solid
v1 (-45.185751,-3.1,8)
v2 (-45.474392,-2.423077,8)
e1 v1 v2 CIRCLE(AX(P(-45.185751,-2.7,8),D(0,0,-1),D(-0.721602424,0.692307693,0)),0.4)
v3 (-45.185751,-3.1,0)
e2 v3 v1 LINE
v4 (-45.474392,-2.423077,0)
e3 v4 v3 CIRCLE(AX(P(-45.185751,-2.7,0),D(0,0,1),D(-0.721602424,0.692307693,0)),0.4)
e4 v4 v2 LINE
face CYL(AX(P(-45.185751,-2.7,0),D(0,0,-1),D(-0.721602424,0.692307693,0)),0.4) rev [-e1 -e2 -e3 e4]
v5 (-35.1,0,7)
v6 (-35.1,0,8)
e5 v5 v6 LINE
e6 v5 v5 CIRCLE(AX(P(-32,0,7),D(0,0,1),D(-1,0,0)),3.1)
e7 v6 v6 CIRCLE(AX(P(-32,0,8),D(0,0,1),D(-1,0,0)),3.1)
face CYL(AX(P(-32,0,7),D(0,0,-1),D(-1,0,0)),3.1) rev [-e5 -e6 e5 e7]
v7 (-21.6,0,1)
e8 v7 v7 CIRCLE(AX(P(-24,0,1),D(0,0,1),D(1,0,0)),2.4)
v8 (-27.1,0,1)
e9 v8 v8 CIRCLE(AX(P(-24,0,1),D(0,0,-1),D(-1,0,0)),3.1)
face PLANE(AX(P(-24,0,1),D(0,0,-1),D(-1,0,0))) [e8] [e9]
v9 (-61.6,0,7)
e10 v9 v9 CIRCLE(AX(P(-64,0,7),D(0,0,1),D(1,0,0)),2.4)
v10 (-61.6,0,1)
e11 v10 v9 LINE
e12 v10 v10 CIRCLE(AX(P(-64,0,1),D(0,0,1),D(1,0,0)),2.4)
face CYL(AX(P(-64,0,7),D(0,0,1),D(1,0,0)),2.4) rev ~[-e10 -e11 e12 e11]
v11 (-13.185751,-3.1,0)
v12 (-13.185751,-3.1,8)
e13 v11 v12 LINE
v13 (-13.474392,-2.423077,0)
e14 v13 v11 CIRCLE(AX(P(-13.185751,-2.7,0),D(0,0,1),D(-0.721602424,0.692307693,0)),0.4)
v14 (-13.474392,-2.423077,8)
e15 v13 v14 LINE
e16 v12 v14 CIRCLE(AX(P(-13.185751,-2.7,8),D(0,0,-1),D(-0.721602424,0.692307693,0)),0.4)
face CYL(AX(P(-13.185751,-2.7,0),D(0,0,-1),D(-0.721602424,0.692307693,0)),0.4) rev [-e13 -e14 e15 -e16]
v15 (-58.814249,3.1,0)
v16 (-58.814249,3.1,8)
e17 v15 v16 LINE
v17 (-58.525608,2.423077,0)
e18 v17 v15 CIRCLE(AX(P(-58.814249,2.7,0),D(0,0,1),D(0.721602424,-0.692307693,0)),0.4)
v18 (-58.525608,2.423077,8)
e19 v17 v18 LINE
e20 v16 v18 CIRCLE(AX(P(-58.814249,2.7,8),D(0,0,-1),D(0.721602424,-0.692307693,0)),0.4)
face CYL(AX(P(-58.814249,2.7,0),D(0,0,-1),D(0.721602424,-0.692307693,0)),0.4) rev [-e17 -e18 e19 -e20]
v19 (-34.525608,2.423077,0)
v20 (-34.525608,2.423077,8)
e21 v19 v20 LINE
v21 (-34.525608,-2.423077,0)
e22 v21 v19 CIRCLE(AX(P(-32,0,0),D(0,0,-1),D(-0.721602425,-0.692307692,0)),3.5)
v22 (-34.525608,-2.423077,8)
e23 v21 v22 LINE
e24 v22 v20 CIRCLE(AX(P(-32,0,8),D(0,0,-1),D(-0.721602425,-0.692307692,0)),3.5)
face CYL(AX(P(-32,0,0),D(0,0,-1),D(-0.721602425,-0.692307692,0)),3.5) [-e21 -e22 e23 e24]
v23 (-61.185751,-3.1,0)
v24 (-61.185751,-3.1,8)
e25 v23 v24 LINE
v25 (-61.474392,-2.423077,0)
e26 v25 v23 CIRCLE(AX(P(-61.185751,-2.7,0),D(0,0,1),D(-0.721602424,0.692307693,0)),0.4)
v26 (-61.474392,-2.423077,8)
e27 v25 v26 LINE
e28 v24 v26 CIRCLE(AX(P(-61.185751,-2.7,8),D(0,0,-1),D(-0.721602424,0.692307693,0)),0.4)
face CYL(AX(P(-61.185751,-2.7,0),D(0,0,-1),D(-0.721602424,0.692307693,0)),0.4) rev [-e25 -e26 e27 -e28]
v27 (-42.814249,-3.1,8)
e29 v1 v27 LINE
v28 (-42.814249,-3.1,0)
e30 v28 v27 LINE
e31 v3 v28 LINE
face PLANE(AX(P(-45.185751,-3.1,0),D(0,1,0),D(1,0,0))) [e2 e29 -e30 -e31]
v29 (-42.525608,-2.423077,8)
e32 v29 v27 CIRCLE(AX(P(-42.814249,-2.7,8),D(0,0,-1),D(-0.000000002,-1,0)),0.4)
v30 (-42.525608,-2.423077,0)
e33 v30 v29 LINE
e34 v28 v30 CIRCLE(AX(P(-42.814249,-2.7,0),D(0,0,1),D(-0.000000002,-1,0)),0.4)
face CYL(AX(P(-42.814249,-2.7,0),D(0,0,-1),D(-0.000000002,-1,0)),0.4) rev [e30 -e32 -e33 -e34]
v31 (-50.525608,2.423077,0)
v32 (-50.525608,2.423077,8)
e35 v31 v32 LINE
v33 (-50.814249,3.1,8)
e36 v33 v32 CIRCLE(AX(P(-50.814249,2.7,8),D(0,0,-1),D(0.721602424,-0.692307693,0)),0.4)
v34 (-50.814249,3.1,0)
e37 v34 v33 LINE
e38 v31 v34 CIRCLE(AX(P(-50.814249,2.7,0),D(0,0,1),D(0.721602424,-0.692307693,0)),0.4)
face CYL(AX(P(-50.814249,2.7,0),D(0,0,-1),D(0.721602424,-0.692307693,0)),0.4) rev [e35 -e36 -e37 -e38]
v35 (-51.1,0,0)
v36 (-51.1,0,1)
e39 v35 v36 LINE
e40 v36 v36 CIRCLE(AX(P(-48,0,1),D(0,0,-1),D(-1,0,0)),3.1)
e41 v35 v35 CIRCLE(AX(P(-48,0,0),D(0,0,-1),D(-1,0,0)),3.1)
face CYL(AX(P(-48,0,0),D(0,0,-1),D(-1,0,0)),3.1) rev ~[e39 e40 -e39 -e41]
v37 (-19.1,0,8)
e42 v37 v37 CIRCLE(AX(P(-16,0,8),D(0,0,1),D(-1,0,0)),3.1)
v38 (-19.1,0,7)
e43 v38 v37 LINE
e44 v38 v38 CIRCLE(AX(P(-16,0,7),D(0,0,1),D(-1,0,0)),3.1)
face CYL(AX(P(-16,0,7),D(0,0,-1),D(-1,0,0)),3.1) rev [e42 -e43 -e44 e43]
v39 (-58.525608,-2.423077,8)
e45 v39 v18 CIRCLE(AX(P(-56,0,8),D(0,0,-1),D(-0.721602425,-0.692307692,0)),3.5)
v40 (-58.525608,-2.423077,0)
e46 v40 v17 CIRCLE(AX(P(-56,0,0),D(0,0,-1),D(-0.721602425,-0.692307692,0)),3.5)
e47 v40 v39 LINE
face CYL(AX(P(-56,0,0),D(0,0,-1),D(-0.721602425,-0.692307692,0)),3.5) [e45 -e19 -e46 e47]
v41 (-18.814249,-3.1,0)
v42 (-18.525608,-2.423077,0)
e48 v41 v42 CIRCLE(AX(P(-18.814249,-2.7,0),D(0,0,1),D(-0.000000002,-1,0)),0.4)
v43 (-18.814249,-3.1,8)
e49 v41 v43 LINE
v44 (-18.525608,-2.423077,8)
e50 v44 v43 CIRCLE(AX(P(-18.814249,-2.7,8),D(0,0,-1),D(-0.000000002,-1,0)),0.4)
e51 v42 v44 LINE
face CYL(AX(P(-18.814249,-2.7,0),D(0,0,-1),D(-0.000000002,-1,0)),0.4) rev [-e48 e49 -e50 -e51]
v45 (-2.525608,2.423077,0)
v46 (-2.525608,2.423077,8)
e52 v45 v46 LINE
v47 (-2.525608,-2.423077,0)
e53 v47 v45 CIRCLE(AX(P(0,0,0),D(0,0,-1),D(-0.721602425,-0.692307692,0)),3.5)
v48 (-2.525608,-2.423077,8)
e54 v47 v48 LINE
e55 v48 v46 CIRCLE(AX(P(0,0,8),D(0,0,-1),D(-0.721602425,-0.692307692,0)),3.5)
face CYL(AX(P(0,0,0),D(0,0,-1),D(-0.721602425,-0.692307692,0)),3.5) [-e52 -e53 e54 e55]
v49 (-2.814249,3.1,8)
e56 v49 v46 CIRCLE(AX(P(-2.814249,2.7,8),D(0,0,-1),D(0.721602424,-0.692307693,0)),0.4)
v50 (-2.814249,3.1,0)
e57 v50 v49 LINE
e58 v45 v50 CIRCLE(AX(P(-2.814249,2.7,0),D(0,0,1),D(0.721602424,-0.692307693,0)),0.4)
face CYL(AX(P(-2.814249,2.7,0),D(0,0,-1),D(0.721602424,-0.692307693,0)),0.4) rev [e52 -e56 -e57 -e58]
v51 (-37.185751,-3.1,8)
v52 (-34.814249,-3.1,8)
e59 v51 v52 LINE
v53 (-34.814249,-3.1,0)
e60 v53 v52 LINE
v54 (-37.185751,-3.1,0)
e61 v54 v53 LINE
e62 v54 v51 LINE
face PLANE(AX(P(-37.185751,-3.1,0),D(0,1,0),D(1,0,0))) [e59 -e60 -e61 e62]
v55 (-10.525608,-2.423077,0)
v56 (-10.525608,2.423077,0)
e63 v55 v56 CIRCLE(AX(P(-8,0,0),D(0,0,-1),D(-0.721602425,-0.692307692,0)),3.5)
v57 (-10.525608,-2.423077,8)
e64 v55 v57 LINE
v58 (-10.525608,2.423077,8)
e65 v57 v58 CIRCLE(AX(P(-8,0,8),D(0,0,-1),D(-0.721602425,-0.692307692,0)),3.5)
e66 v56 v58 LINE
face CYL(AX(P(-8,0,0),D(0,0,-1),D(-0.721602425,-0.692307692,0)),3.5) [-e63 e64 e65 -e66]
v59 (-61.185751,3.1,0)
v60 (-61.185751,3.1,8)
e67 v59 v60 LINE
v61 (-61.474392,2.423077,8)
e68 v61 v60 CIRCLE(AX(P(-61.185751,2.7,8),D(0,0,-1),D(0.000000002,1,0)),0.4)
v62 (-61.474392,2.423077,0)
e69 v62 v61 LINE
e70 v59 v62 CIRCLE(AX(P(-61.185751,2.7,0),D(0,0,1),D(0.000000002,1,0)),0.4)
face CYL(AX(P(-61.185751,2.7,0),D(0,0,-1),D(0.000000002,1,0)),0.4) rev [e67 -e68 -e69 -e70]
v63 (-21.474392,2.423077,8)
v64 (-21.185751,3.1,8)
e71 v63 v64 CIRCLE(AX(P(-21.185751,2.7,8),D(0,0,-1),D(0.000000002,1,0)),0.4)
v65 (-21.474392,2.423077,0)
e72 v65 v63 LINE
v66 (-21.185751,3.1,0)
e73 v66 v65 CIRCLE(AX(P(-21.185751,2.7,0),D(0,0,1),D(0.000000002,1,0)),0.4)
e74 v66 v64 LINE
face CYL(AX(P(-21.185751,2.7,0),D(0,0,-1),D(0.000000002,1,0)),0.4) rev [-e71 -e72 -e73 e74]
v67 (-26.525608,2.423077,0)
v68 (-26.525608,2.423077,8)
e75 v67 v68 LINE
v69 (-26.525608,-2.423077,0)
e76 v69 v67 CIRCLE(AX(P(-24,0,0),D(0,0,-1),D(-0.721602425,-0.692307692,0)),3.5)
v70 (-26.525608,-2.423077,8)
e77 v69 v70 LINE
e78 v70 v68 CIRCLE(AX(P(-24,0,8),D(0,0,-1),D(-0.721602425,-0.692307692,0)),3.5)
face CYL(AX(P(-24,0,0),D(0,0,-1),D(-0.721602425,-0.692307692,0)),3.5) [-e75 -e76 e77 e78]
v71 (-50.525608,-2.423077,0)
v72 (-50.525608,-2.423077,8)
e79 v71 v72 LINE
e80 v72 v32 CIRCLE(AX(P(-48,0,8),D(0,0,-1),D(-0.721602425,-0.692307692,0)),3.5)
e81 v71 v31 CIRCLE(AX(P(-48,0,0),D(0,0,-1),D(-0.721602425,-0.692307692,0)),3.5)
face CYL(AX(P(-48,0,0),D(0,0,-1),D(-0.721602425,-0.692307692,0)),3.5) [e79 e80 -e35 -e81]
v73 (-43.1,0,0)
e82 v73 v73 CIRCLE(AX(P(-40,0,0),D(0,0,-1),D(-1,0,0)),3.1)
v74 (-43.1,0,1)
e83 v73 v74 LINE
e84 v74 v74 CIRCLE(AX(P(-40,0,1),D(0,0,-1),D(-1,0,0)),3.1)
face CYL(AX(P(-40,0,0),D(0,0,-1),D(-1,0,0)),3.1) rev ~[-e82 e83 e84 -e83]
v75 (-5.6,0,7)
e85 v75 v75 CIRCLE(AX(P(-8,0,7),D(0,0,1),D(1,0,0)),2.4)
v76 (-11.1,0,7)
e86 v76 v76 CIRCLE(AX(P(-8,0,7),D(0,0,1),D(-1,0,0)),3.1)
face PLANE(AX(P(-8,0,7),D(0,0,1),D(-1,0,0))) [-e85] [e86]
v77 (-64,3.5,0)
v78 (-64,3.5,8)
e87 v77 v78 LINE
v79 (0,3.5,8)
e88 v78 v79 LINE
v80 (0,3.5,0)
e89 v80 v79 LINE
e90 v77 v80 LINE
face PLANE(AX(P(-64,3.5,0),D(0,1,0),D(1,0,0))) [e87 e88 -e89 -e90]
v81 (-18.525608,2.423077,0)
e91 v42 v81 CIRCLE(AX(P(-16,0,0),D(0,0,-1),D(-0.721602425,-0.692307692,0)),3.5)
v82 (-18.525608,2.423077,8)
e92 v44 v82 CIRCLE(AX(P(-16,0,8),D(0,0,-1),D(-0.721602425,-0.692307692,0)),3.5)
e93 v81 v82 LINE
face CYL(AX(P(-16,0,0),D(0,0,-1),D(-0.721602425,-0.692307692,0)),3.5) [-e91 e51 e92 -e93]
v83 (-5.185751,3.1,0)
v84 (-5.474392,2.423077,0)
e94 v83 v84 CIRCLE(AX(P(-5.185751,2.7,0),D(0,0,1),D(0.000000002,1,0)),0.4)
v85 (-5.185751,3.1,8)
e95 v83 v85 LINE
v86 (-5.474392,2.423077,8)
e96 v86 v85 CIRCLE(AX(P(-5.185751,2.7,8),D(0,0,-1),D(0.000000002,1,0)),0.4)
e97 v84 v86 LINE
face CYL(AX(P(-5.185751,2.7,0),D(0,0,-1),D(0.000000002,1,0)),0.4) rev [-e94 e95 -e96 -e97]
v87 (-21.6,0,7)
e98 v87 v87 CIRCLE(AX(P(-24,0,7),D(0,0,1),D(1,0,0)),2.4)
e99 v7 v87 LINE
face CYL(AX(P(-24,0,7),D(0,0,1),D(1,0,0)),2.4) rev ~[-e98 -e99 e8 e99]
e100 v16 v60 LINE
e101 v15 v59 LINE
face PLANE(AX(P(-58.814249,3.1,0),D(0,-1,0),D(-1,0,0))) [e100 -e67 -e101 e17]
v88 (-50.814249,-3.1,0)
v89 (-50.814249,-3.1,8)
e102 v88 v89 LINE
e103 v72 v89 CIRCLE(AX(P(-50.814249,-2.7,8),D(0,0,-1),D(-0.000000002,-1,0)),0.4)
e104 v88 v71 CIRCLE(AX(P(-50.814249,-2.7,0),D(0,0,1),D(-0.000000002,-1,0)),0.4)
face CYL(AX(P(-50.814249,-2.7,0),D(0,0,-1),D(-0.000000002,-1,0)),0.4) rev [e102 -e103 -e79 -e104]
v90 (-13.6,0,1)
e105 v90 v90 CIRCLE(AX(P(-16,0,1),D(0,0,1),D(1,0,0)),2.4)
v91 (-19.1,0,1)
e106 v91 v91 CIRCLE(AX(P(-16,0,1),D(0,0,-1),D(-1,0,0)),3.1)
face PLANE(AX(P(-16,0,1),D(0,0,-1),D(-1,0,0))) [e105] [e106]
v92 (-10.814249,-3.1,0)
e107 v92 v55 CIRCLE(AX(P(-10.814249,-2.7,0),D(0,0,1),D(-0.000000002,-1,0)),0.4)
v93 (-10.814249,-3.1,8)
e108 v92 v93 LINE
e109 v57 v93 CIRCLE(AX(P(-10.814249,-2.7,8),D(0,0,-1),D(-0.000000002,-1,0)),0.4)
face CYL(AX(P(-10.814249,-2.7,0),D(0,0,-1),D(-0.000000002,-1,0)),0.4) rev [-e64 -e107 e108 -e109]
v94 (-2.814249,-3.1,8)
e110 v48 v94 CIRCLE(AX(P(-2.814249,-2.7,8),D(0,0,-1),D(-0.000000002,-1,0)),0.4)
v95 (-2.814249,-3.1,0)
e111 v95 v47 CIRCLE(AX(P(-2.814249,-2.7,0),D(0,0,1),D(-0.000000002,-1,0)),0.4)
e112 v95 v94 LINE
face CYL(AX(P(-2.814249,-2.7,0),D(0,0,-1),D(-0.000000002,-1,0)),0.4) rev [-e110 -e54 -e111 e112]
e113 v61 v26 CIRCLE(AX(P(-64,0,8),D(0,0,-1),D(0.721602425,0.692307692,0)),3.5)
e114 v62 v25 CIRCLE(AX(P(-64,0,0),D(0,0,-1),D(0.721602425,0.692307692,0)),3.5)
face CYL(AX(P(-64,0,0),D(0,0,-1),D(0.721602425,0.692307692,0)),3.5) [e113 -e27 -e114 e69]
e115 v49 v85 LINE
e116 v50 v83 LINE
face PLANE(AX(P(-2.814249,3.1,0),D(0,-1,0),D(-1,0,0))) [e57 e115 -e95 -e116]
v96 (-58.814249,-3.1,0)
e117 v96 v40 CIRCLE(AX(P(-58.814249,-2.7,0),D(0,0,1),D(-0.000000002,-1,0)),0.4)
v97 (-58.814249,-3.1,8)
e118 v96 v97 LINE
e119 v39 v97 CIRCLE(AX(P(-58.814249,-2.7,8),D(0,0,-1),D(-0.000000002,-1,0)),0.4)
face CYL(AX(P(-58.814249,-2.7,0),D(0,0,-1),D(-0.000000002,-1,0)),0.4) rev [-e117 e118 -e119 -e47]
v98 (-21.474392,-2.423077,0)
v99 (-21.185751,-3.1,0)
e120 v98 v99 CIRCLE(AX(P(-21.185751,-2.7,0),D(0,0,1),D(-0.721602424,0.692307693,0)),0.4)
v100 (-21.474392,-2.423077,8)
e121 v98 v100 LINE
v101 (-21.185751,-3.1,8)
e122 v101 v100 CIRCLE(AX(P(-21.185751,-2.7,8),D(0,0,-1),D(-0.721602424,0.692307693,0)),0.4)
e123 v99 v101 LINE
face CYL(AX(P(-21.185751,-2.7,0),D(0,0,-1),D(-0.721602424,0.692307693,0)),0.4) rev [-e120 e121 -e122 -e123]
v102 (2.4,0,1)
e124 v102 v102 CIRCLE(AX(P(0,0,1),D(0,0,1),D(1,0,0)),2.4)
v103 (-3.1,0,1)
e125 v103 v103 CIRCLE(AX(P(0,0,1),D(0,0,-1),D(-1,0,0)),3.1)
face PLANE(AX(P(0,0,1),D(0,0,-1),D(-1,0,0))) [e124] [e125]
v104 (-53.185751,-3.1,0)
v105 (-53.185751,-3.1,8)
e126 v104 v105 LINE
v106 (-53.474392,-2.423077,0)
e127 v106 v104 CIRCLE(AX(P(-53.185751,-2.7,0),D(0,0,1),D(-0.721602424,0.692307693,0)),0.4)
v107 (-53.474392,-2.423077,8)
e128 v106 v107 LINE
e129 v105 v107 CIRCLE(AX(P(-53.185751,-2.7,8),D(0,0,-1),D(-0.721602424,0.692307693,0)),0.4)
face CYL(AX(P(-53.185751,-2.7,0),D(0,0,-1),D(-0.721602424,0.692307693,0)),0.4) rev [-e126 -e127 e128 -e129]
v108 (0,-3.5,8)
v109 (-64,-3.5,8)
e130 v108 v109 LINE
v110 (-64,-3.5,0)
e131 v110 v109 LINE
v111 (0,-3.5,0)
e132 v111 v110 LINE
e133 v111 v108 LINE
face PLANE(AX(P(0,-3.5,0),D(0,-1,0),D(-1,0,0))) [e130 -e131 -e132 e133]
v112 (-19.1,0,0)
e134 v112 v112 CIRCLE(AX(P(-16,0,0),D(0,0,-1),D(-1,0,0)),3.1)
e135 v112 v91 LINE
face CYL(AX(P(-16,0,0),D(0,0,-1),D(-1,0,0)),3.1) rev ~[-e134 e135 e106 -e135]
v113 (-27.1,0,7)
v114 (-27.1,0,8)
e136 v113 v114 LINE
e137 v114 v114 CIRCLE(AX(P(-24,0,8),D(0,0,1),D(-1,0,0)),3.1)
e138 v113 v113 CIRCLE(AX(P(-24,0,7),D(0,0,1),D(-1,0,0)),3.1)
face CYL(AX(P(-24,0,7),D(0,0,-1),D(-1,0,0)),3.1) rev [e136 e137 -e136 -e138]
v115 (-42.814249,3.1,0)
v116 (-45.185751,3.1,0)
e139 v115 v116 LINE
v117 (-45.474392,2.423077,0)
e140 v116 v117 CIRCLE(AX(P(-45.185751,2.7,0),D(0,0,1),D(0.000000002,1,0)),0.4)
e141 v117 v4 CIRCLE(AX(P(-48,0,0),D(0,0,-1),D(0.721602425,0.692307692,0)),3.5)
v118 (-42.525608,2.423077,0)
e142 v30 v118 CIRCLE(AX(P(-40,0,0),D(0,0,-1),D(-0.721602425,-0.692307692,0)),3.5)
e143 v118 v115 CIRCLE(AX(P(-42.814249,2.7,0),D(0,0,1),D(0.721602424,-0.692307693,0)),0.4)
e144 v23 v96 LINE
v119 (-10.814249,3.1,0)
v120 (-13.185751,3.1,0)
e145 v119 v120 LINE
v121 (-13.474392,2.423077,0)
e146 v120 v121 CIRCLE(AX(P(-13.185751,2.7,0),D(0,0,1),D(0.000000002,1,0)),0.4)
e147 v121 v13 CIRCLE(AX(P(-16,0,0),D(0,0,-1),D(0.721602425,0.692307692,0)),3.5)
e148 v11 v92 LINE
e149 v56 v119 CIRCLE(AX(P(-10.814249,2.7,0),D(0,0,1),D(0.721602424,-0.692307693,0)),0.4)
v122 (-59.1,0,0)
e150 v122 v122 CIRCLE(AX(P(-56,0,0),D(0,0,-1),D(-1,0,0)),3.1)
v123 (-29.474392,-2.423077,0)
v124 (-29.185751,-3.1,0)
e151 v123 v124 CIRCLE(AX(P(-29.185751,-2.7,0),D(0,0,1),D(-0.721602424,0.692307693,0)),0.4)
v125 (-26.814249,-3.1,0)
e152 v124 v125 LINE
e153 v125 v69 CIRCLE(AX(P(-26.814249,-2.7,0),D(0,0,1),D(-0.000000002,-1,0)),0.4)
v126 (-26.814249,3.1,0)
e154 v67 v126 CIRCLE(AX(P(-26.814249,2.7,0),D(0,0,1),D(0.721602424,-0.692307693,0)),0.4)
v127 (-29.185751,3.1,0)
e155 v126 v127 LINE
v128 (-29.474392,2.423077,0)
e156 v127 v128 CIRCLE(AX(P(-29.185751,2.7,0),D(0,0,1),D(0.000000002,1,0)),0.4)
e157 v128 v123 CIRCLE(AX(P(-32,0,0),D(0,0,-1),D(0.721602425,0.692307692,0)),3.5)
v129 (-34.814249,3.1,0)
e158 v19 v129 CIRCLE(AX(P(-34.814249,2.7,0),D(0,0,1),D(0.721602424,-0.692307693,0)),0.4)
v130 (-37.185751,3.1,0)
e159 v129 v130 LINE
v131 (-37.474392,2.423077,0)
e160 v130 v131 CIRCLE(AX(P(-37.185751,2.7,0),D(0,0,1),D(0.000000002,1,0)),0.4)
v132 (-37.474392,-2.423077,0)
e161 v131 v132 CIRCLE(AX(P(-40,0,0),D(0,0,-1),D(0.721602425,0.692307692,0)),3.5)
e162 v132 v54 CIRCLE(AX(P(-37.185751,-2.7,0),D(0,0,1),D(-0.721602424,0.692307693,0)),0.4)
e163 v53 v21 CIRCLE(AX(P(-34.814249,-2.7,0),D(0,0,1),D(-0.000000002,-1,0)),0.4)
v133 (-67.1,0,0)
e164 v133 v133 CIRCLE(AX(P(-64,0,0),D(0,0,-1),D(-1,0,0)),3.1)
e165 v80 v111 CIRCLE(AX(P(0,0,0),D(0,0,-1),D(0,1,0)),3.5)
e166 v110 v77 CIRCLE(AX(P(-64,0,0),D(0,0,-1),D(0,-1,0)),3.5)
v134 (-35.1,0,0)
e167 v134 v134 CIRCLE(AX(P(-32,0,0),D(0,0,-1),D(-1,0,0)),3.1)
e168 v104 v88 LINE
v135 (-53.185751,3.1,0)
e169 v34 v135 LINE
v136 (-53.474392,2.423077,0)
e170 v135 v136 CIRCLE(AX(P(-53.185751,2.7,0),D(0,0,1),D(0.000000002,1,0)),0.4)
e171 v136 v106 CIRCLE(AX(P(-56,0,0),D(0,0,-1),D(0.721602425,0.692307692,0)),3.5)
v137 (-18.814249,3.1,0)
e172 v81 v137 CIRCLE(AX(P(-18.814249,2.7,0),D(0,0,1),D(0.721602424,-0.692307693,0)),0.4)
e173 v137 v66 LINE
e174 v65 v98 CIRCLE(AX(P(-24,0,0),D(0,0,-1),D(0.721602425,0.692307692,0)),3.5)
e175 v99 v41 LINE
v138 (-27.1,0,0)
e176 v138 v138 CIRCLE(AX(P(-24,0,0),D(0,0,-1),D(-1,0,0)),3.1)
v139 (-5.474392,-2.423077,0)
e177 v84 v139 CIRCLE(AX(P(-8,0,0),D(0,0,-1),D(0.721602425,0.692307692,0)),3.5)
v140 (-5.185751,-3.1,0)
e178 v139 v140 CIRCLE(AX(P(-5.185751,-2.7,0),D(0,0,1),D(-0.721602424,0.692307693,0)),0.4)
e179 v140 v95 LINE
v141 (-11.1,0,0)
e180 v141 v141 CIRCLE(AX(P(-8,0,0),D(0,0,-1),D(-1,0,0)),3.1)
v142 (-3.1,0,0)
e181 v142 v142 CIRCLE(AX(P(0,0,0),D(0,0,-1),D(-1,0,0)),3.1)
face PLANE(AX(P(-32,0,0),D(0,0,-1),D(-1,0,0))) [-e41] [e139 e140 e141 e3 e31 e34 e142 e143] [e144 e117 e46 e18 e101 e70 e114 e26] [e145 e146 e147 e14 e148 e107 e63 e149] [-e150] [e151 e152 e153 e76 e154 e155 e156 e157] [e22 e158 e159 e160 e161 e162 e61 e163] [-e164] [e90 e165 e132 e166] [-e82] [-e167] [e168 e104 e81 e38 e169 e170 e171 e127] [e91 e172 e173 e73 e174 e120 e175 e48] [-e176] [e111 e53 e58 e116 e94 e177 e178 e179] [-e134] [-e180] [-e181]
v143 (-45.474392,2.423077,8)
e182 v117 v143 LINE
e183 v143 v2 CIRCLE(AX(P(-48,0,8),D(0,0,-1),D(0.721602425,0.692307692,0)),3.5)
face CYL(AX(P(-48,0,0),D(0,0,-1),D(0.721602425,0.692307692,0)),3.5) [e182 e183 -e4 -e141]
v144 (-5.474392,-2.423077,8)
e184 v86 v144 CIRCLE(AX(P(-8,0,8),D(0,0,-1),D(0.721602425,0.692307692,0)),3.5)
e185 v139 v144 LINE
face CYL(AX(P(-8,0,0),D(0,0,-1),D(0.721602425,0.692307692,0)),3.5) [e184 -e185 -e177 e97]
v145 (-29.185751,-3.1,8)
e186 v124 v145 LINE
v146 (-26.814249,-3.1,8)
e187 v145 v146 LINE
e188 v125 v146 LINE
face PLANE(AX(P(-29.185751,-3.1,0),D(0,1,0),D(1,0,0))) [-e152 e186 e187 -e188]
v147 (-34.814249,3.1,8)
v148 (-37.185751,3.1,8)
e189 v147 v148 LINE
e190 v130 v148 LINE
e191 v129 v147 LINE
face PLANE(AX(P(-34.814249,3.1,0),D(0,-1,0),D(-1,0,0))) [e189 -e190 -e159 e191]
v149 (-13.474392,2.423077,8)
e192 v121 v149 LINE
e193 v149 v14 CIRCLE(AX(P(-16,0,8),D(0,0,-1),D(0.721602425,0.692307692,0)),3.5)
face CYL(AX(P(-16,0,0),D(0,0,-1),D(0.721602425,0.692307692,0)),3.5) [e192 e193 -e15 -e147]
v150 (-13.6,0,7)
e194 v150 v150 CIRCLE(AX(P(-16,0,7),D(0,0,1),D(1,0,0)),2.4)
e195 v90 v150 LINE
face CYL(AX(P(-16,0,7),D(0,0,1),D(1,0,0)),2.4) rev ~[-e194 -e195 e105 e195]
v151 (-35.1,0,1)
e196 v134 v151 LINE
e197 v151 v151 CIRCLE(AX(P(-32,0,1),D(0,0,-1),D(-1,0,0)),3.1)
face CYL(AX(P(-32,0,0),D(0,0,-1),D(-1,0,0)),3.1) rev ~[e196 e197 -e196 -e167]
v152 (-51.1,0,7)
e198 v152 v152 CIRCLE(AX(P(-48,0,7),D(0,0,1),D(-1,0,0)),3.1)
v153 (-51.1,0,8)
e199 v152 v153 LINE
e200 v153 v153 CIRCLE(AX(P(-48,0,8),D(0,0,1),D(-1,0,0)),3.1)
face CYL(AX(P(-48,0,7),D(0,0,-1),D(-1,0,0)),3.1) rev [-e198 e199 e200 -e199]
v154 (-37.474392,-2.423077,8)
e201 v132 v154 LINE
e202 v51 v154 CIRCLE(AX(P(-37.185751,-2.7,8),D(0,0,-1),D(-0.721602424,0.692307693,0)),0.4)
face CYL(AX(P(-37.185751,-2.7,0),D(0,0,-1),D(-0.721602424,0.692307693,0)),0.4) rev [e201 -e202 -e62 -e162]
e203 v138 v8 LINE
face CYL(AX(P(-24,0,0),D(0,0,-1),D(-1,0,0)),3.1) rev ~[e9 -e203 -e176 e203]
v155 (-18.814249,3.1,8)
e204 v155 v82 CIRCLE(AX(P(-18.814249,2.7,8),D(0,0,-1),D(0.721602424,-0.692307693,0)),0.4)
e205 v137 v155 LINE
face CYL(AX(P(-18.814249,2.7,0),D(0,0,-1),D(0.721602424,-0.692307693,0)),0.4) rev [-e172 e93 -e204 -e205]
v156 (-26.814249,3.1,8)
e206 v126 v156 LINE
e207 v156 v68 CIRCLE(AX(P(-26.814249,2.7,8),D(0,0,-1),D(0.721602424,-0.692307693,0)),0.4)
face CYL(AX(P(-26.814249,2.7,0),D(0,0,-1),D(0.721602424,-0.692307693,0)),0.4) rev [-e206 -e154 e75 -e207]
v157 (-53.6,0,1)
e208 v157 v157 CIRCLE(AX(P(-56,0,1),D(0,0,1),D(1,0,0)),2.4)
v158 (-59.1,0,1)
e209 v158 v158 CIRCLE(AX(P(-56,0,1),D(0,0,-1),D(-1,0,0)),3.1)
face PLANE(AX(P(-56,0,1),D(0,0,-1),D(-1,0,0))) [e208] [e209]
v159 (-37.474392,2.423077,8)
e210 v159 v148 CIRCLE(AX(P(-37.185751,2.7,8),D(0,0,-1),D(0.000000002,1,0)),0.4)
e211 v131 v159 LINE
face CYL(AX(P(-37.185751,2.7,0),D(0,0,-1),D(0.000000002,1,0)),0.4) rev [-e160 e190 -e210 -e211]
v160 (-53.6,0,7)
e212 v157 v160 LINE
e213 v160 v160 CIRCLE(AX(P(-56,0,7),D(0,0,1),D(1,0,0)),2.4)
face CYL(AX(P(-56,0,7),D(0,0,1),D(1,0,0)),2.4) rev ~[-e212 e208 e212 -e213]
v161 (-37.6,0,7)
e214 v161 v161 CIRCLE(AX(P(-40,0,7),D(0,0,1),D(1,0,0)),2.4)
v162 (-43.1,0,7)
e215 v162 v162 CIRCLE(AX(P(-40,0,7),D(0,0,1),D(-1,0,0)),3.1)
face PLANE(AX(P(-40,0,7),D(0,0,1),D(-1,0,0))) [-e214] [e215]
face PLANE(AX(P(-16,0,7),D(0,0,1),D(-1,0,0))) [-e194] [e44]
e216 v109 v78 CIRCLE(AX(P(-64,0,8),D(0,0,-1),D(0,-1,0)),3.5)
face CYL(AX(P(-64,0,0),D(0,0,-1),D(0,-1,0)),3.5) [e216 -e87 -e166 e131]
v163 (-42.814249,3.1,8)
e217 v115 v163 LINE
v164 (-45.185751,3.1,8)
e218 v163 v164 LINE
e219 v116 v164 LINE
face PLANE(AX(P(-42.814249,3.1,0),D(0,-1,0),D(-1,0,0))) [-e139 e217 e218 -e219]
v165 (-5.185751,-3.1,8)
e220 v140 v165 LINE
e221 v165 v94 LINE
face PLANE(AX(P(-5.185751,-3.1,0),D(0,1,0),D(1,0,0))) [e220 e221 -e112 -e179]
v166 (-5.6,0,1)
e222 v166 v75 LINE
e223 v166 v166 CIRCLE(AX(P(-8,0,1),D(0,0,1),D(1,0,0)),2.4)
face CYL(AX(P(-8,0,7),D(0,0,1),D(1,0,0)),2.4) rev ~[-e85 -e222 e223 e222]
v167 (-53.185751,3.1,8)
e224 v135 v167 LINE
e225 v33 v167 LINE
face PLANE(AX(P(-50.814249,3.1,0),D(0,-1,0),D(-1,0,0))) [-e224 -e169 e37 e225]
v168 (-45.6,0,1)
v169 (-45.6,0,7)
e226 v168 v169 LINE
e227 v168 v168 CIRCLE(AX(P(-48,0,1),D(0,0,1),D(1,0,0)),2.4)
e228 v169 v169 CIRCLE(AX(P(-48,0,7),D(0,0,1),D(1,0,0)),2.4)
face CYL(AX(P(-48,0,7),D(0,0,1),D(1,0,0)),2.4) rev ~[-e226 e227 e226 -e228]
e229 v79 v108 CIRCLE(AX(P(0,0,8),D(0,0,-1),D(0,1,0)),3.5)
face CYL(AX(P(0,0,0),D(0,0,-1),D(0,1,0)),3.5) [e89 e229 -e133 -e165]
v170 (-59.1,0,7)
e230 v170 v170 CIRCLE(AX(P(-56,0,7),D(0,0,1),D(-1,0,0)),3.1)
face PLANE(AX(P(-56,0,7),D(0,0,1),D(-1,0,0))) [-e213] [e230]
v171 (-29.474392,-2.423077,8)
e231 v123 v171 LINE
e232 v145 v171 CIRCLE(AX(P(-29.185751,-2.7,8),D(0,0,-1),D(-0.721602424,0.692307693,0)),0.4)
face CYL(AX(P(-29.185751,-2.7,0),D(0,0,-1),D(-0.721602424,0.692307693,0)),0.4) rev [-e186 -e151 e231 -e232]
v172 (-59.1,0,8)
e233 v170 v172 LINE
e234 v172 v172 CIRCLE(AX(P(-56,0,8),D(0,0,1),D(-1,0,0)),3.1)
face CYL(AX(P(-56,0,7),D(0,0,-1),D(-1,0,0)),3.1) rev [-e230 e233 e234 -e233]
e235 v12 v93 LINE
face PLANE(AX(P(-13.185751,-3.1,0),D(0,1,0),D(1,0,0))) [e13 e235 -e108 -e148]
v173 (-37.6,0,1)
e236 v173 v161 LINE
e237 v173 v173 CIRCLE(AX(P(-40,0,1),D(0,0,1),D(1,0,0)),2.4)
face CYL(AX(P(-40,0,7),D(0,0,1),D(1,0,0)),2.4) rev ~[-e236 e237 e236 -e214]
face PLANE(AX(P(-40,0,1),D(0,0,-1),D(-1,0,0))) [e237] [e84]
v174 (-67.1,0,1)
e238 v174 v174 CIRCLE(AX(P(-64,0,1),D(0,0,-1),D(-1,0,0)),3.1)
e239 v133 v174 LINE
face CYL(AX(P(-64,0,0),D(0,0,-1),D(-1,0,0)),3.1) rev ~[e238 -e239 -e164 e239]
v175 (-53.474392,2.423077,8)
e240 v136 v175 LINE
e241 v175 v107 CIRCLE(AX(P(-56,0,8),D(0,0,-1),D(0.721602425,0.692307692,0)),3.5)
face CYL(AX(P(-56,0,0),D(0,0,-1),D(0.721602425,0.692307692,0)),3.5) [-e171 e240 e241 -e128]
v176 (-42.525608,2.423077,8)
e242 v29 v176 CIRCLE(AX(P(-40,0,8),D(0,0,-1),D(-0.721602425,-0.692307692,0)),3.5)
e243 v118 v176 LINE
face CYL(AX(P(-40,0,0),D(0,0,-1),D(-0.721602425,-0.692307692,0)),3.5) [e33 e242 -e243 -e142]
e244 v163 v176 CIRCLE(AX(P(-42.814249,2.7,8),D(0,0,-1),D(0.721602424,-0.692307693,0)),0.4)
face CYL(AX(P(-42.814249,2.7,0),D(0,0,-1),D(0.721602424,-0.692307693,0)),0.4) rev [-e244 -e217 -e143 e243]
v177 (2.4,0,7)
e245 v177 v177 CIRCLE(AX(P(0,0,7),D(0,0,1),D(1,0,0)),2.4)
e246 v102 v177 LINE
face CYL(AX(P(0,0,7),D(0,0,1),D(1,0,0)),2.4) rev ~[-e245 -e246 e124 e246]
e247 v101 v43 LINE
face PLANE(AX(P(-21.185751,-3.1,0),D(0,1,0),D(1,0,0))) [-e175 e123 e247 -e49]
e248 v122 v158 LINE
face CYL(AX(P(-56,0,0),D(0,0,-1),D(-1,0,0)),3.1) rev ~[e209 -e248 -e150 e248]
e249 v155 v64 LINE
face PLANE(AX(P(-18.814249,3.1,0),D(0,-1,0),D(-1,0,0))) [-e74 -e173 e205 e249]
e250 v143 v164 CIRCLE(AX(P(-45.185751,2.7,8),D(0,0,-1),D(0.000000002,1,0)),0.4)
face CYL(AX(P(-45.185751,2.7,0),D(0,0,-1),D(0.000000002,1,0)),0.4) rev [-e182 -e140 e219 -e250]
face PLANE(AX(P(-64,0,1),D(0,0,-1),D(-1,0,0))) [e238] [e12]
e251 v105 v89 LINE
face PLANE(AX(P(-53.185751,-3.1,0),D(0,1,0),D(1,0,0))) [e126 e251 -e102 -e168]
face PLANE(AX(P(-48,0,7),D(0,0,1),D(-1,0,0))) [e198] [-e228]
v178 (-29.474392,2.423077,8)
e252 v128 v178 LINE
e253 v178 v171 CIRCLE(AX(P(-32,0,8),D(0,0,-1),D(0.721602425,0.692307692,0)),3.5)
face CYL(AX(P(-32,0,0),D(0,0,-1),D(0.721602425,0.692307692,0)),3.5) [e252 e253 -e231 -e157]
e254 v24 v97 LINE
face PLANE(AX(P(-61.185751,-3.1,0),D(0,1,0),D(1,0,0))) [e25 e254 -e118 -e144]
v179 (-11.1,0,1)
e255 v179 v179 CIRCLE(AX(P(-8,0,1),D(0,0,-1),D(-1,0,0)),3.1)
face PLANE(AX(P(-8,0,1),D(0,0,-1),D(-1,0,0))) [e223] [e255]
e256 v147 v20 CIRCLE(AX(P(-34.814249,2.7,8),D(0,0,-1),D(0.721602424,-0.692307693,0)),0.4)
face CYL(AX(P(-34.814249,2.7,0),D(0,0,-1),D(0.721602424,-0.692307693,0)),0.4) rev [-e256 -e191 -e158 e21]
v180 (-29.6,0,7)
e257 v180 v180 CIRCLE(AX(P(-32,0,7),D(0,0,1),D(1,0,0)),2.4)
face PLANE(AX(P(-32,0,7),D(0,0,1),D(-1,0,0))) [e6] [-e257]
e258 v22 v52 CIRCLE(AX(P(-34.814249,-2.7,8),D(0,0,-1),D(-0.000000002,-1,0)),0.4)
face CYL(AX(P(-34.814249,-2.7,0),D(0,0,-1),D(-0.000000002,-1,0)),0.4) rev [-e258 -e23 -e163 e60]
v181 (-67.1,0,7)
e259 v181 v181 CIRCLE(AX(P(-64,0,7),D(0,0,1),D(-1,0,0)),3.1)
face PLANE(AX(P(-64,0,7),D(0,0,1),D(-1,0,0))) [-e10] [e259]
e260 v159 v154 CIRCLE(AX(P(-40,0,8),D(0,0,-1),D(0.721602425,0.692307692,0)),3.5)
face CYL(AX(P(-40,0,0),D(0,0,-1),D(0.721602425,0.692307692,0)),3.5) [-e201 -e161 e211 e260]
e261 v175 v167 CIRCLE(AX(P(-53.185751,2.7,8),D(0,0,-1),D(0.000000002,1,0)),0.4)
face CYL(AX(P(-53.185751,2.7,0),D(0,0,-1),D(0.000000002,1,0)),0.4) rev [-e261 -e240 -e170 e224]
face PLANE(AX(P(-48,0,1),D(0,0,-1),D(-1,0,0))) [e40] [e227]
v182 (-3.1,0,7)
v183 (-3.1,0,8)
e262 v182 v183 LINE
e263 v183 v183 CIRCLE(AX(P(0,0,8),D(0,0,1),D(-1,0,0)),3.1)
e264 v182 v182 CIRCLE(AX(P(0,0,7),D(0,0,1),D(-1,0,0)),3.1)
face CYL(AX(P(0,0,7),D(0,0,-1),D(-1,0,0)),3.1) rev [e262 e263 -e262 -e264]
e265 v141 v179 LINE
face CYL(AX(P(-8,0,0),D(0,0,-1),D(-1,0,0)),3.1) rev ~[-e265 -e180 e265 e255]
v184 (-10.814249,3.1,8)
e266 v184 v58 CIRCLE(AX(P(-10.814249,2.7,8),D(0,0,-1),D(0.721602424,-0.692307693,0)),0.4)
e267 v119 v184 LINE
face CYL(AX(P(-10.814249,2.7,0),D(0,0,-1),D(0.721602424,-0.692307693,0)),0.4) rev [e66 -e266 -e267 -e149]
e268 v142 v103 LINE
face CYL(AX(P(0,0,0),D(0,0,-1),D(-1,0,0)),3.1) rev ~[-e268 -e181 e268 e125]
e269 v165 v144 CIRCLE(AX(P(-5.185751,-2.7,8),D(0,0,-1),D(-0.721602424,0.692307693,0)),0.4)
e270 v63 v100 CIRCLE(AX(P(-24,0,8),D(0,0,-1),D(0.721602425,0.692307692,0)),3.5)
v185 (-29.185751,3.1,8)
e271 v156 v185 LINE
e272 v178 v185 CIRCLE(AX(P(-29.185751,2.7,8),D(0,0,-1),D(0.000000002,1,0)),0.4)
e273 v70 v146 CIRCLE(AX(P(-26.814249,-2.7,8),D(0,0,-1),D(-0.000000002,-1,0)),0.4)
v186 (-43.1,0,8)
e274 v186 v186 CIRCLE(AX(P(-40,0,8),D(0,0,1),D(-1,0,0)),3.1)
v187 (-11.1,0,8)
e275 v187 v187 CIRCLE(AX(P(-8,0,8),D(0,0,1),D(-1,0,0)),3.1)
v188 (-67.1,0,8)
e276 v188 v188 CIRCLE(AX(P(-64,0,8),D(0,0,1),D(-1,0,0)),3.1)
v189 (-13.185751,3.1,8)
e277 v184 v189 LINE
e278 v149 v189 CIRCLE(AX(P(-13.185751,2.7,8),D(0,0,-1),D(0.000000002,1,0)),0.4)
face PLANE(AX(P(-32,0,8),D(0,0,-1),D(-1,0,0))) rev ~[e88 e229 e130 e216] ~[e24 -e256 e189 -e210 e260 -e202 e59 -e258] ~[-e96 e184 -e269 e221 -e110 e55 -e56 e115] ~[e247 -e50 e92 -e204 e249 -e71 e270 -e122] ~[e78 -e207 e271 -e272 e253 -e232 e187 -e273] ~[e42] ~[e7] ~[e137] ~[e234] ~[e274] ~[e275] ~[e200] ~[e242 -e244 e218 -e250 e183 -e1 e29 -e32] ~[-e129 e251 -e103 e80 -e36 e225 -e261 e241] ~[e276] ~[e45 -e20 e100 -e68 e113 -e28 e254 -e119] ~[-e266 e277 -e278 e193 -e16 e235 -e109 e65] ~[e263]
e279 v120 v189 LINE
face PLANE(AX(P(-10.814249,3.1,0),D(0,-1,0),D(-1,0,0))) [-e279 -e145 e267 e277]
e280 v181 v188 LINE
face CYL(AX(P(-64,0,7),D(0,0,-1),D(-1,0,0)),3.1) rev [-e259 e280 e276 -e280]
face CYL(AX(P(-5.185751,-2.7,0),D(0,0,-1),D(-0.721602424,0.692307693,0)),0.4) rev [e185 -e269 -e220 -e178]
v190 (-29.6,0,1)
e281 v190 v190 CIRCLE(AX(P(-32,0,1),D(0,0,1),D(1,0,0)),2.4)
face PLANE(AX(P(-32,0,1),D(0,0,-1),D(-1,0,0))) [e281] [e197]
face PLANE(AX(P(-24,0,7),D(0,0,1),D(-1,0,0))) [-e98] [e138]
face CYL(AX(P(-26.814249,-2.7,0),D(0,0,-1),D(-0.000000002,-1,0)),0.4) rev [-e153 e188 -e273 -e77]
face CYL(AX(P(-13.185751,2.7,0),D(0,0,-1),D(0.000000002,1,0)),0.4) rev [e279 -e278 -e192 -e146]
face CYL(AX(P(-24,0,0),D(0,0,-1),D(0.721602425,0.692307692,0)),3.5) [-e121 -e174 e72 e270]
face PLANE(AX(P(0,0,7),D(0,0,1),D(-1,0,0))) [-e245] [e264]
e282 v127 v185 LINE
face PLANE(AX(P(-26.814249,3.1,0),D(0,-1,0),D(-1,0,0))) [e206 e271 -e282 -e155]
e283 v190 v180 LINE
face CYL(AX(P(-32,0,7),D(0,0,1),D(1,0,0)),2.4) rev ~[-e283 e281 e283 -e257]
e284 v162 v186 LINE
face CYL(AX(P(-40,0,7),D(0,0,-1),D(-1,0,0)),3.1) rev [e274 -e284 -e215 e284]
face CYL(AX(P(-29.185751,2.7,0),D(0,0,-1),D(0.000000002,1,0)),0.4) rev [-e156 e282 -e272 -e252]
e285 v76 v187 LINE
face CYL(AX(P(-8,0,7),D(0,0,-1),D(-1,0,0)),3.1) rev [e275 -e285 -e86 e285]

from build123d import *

# Parameters (mm, degrees)
BOSS_EXTRUDE2_DEPTH = 8
SKETCH5_R           = 3.1
CUT_EXTRUDE4_DEPTH  = 1
CUT_EXTRUDE5_START  = -1
SKETCH6_R           = 3.1
CUT_EXTRUDE5_DEPTH  = 1
SKETCH7_R           = 2.4
CUT_EXTRUDE6_DEPTH  = 68.952189074
LPATTERN1_COUNT     = 9
LPATTERN1_PITCH     = 8
CUT_EXTRUDE7_DEPTH  = 69.062471304
LPATTERN2_COUNT     = 8
LPATTERN2_PITCH     = 8


with BuildPart() as part:
    # Sketch1 → Boss-Extrude2 (new body)
    with BuildSketch(Plane.XY):
        with BuildLine():
            Line((0, -3.5), (-64, -3.5))
            ThreePointArc((-64, -3.5), (-67.5, 0), (-64, 3.5))
            Line((-64, 3.5), (0, 3.5))
            ThreePointArc((0, 3.5), (3.5, 0), (0, -3.5))
        make_face()
    extrude(amount=BOSS_EXTRUDE2_DEPTH)

    # Sketch5 → Cut-Extrude4 (cut)
    with BuildSketch(Plane(origin=(0, 0, 0), x_dir=(-1, 0, 0), z_dir=(0, 0, -1))):
        Circle(SKETCH5_R)
    cut_extrude4 = extrude(amount=-CUT_EXTRUDE4_DEPTH, mode=Mode.SUBTRACT)

    # Sketch6 → Cut-Extrude5 (cut)
    with BuildSketch(Plane.XY.offset(8).offset(CUT_EXTRUDE5_START)):
        with Locations(Location((0, 0, 0), (0, 0, 180))):
            Circle(SKETCH6_R)
    cut_extrude5 = extrude(amount=CUT_EXTRUDE5_DEPTH, mode=Mode.SUBTRACT)

    # Sketch7 → Cut-Extrude6 (cut, symmetric)
    with BuildSketch(Plane.XY.offset(7)):
        Circle(SKETCH7_R)
    cut_extrude6 = extrude(amount=CUT_EXTRUDE6_DEPTH, both=True, mode=Mode.SUBTRACT)

    # LPattern1: Cut-Extrude4, Cut-Extrude5, Cut-Extrude6 ×9
    with Locations(*[(-i * LPATTERN1_PITCH, 0, 0) for i in range(1, LPATTERN1_COUNT)]):
        add(cut_extrude4, mode=Mode.SUBTRACT)
        add(cut_extrude5, mode=Mode.SUBTRACT)
        add(cut_extrude6, mode=Mode.SUBTRACT)

    # Sketch8 → Cut-Extrude7 (cut, through all)
    with BuildSketch(Plane(origin=(0, 0, 0), x_dir=(-1, 0, 0), z_dir=(0, 0, -1))):
        with BuildLine():
            Line((2.814249456, 3.1), (5.185750544, 3.1))
            ThreePointArc((5.185750544, 3.1), (5.553697029, 2.856892908), (5.474391514, 2.423076923))
            ThreePointArc((5.474391514, 2.423076923), (4.5, 0), (5.474391514, -2.423076923))
            ThreePointArc((5.474391514, -2.423076923), (5.553697029, -2.856892908), (5.185750544, -3.1))
            Line((5.185750544, -3.1), (2.814249456, -3.1))
            ThreePointArc((2.814249456, -3.1), (2.446302971, -2.856892908), (2.525608486, -2.423076923))
            ThreePointArc((2.525608486, -2.423076923), (3.5, 0), (2.525608486, 2.423076923))
            ThreePointArc((2.525608486, 2.423076923), (2.446302971, 2.856892908), (2.814249456, 3.1))
        make_face()
    cut_extrude7 = extrude(amount=-CUT_EXTRUDE7_DEPTH, mode=Mode.SUBTRACT)

    # LPattern2: Cut-Extrude7 ×8
    with Locations(*[(-i * LPATTERN2_PITCH, 0, 0) for i in range(1, LPATTERN2_COUNT)]):
        add(cut_extrude7, mode=Mode.SUBTRACT)


solid = part.part
